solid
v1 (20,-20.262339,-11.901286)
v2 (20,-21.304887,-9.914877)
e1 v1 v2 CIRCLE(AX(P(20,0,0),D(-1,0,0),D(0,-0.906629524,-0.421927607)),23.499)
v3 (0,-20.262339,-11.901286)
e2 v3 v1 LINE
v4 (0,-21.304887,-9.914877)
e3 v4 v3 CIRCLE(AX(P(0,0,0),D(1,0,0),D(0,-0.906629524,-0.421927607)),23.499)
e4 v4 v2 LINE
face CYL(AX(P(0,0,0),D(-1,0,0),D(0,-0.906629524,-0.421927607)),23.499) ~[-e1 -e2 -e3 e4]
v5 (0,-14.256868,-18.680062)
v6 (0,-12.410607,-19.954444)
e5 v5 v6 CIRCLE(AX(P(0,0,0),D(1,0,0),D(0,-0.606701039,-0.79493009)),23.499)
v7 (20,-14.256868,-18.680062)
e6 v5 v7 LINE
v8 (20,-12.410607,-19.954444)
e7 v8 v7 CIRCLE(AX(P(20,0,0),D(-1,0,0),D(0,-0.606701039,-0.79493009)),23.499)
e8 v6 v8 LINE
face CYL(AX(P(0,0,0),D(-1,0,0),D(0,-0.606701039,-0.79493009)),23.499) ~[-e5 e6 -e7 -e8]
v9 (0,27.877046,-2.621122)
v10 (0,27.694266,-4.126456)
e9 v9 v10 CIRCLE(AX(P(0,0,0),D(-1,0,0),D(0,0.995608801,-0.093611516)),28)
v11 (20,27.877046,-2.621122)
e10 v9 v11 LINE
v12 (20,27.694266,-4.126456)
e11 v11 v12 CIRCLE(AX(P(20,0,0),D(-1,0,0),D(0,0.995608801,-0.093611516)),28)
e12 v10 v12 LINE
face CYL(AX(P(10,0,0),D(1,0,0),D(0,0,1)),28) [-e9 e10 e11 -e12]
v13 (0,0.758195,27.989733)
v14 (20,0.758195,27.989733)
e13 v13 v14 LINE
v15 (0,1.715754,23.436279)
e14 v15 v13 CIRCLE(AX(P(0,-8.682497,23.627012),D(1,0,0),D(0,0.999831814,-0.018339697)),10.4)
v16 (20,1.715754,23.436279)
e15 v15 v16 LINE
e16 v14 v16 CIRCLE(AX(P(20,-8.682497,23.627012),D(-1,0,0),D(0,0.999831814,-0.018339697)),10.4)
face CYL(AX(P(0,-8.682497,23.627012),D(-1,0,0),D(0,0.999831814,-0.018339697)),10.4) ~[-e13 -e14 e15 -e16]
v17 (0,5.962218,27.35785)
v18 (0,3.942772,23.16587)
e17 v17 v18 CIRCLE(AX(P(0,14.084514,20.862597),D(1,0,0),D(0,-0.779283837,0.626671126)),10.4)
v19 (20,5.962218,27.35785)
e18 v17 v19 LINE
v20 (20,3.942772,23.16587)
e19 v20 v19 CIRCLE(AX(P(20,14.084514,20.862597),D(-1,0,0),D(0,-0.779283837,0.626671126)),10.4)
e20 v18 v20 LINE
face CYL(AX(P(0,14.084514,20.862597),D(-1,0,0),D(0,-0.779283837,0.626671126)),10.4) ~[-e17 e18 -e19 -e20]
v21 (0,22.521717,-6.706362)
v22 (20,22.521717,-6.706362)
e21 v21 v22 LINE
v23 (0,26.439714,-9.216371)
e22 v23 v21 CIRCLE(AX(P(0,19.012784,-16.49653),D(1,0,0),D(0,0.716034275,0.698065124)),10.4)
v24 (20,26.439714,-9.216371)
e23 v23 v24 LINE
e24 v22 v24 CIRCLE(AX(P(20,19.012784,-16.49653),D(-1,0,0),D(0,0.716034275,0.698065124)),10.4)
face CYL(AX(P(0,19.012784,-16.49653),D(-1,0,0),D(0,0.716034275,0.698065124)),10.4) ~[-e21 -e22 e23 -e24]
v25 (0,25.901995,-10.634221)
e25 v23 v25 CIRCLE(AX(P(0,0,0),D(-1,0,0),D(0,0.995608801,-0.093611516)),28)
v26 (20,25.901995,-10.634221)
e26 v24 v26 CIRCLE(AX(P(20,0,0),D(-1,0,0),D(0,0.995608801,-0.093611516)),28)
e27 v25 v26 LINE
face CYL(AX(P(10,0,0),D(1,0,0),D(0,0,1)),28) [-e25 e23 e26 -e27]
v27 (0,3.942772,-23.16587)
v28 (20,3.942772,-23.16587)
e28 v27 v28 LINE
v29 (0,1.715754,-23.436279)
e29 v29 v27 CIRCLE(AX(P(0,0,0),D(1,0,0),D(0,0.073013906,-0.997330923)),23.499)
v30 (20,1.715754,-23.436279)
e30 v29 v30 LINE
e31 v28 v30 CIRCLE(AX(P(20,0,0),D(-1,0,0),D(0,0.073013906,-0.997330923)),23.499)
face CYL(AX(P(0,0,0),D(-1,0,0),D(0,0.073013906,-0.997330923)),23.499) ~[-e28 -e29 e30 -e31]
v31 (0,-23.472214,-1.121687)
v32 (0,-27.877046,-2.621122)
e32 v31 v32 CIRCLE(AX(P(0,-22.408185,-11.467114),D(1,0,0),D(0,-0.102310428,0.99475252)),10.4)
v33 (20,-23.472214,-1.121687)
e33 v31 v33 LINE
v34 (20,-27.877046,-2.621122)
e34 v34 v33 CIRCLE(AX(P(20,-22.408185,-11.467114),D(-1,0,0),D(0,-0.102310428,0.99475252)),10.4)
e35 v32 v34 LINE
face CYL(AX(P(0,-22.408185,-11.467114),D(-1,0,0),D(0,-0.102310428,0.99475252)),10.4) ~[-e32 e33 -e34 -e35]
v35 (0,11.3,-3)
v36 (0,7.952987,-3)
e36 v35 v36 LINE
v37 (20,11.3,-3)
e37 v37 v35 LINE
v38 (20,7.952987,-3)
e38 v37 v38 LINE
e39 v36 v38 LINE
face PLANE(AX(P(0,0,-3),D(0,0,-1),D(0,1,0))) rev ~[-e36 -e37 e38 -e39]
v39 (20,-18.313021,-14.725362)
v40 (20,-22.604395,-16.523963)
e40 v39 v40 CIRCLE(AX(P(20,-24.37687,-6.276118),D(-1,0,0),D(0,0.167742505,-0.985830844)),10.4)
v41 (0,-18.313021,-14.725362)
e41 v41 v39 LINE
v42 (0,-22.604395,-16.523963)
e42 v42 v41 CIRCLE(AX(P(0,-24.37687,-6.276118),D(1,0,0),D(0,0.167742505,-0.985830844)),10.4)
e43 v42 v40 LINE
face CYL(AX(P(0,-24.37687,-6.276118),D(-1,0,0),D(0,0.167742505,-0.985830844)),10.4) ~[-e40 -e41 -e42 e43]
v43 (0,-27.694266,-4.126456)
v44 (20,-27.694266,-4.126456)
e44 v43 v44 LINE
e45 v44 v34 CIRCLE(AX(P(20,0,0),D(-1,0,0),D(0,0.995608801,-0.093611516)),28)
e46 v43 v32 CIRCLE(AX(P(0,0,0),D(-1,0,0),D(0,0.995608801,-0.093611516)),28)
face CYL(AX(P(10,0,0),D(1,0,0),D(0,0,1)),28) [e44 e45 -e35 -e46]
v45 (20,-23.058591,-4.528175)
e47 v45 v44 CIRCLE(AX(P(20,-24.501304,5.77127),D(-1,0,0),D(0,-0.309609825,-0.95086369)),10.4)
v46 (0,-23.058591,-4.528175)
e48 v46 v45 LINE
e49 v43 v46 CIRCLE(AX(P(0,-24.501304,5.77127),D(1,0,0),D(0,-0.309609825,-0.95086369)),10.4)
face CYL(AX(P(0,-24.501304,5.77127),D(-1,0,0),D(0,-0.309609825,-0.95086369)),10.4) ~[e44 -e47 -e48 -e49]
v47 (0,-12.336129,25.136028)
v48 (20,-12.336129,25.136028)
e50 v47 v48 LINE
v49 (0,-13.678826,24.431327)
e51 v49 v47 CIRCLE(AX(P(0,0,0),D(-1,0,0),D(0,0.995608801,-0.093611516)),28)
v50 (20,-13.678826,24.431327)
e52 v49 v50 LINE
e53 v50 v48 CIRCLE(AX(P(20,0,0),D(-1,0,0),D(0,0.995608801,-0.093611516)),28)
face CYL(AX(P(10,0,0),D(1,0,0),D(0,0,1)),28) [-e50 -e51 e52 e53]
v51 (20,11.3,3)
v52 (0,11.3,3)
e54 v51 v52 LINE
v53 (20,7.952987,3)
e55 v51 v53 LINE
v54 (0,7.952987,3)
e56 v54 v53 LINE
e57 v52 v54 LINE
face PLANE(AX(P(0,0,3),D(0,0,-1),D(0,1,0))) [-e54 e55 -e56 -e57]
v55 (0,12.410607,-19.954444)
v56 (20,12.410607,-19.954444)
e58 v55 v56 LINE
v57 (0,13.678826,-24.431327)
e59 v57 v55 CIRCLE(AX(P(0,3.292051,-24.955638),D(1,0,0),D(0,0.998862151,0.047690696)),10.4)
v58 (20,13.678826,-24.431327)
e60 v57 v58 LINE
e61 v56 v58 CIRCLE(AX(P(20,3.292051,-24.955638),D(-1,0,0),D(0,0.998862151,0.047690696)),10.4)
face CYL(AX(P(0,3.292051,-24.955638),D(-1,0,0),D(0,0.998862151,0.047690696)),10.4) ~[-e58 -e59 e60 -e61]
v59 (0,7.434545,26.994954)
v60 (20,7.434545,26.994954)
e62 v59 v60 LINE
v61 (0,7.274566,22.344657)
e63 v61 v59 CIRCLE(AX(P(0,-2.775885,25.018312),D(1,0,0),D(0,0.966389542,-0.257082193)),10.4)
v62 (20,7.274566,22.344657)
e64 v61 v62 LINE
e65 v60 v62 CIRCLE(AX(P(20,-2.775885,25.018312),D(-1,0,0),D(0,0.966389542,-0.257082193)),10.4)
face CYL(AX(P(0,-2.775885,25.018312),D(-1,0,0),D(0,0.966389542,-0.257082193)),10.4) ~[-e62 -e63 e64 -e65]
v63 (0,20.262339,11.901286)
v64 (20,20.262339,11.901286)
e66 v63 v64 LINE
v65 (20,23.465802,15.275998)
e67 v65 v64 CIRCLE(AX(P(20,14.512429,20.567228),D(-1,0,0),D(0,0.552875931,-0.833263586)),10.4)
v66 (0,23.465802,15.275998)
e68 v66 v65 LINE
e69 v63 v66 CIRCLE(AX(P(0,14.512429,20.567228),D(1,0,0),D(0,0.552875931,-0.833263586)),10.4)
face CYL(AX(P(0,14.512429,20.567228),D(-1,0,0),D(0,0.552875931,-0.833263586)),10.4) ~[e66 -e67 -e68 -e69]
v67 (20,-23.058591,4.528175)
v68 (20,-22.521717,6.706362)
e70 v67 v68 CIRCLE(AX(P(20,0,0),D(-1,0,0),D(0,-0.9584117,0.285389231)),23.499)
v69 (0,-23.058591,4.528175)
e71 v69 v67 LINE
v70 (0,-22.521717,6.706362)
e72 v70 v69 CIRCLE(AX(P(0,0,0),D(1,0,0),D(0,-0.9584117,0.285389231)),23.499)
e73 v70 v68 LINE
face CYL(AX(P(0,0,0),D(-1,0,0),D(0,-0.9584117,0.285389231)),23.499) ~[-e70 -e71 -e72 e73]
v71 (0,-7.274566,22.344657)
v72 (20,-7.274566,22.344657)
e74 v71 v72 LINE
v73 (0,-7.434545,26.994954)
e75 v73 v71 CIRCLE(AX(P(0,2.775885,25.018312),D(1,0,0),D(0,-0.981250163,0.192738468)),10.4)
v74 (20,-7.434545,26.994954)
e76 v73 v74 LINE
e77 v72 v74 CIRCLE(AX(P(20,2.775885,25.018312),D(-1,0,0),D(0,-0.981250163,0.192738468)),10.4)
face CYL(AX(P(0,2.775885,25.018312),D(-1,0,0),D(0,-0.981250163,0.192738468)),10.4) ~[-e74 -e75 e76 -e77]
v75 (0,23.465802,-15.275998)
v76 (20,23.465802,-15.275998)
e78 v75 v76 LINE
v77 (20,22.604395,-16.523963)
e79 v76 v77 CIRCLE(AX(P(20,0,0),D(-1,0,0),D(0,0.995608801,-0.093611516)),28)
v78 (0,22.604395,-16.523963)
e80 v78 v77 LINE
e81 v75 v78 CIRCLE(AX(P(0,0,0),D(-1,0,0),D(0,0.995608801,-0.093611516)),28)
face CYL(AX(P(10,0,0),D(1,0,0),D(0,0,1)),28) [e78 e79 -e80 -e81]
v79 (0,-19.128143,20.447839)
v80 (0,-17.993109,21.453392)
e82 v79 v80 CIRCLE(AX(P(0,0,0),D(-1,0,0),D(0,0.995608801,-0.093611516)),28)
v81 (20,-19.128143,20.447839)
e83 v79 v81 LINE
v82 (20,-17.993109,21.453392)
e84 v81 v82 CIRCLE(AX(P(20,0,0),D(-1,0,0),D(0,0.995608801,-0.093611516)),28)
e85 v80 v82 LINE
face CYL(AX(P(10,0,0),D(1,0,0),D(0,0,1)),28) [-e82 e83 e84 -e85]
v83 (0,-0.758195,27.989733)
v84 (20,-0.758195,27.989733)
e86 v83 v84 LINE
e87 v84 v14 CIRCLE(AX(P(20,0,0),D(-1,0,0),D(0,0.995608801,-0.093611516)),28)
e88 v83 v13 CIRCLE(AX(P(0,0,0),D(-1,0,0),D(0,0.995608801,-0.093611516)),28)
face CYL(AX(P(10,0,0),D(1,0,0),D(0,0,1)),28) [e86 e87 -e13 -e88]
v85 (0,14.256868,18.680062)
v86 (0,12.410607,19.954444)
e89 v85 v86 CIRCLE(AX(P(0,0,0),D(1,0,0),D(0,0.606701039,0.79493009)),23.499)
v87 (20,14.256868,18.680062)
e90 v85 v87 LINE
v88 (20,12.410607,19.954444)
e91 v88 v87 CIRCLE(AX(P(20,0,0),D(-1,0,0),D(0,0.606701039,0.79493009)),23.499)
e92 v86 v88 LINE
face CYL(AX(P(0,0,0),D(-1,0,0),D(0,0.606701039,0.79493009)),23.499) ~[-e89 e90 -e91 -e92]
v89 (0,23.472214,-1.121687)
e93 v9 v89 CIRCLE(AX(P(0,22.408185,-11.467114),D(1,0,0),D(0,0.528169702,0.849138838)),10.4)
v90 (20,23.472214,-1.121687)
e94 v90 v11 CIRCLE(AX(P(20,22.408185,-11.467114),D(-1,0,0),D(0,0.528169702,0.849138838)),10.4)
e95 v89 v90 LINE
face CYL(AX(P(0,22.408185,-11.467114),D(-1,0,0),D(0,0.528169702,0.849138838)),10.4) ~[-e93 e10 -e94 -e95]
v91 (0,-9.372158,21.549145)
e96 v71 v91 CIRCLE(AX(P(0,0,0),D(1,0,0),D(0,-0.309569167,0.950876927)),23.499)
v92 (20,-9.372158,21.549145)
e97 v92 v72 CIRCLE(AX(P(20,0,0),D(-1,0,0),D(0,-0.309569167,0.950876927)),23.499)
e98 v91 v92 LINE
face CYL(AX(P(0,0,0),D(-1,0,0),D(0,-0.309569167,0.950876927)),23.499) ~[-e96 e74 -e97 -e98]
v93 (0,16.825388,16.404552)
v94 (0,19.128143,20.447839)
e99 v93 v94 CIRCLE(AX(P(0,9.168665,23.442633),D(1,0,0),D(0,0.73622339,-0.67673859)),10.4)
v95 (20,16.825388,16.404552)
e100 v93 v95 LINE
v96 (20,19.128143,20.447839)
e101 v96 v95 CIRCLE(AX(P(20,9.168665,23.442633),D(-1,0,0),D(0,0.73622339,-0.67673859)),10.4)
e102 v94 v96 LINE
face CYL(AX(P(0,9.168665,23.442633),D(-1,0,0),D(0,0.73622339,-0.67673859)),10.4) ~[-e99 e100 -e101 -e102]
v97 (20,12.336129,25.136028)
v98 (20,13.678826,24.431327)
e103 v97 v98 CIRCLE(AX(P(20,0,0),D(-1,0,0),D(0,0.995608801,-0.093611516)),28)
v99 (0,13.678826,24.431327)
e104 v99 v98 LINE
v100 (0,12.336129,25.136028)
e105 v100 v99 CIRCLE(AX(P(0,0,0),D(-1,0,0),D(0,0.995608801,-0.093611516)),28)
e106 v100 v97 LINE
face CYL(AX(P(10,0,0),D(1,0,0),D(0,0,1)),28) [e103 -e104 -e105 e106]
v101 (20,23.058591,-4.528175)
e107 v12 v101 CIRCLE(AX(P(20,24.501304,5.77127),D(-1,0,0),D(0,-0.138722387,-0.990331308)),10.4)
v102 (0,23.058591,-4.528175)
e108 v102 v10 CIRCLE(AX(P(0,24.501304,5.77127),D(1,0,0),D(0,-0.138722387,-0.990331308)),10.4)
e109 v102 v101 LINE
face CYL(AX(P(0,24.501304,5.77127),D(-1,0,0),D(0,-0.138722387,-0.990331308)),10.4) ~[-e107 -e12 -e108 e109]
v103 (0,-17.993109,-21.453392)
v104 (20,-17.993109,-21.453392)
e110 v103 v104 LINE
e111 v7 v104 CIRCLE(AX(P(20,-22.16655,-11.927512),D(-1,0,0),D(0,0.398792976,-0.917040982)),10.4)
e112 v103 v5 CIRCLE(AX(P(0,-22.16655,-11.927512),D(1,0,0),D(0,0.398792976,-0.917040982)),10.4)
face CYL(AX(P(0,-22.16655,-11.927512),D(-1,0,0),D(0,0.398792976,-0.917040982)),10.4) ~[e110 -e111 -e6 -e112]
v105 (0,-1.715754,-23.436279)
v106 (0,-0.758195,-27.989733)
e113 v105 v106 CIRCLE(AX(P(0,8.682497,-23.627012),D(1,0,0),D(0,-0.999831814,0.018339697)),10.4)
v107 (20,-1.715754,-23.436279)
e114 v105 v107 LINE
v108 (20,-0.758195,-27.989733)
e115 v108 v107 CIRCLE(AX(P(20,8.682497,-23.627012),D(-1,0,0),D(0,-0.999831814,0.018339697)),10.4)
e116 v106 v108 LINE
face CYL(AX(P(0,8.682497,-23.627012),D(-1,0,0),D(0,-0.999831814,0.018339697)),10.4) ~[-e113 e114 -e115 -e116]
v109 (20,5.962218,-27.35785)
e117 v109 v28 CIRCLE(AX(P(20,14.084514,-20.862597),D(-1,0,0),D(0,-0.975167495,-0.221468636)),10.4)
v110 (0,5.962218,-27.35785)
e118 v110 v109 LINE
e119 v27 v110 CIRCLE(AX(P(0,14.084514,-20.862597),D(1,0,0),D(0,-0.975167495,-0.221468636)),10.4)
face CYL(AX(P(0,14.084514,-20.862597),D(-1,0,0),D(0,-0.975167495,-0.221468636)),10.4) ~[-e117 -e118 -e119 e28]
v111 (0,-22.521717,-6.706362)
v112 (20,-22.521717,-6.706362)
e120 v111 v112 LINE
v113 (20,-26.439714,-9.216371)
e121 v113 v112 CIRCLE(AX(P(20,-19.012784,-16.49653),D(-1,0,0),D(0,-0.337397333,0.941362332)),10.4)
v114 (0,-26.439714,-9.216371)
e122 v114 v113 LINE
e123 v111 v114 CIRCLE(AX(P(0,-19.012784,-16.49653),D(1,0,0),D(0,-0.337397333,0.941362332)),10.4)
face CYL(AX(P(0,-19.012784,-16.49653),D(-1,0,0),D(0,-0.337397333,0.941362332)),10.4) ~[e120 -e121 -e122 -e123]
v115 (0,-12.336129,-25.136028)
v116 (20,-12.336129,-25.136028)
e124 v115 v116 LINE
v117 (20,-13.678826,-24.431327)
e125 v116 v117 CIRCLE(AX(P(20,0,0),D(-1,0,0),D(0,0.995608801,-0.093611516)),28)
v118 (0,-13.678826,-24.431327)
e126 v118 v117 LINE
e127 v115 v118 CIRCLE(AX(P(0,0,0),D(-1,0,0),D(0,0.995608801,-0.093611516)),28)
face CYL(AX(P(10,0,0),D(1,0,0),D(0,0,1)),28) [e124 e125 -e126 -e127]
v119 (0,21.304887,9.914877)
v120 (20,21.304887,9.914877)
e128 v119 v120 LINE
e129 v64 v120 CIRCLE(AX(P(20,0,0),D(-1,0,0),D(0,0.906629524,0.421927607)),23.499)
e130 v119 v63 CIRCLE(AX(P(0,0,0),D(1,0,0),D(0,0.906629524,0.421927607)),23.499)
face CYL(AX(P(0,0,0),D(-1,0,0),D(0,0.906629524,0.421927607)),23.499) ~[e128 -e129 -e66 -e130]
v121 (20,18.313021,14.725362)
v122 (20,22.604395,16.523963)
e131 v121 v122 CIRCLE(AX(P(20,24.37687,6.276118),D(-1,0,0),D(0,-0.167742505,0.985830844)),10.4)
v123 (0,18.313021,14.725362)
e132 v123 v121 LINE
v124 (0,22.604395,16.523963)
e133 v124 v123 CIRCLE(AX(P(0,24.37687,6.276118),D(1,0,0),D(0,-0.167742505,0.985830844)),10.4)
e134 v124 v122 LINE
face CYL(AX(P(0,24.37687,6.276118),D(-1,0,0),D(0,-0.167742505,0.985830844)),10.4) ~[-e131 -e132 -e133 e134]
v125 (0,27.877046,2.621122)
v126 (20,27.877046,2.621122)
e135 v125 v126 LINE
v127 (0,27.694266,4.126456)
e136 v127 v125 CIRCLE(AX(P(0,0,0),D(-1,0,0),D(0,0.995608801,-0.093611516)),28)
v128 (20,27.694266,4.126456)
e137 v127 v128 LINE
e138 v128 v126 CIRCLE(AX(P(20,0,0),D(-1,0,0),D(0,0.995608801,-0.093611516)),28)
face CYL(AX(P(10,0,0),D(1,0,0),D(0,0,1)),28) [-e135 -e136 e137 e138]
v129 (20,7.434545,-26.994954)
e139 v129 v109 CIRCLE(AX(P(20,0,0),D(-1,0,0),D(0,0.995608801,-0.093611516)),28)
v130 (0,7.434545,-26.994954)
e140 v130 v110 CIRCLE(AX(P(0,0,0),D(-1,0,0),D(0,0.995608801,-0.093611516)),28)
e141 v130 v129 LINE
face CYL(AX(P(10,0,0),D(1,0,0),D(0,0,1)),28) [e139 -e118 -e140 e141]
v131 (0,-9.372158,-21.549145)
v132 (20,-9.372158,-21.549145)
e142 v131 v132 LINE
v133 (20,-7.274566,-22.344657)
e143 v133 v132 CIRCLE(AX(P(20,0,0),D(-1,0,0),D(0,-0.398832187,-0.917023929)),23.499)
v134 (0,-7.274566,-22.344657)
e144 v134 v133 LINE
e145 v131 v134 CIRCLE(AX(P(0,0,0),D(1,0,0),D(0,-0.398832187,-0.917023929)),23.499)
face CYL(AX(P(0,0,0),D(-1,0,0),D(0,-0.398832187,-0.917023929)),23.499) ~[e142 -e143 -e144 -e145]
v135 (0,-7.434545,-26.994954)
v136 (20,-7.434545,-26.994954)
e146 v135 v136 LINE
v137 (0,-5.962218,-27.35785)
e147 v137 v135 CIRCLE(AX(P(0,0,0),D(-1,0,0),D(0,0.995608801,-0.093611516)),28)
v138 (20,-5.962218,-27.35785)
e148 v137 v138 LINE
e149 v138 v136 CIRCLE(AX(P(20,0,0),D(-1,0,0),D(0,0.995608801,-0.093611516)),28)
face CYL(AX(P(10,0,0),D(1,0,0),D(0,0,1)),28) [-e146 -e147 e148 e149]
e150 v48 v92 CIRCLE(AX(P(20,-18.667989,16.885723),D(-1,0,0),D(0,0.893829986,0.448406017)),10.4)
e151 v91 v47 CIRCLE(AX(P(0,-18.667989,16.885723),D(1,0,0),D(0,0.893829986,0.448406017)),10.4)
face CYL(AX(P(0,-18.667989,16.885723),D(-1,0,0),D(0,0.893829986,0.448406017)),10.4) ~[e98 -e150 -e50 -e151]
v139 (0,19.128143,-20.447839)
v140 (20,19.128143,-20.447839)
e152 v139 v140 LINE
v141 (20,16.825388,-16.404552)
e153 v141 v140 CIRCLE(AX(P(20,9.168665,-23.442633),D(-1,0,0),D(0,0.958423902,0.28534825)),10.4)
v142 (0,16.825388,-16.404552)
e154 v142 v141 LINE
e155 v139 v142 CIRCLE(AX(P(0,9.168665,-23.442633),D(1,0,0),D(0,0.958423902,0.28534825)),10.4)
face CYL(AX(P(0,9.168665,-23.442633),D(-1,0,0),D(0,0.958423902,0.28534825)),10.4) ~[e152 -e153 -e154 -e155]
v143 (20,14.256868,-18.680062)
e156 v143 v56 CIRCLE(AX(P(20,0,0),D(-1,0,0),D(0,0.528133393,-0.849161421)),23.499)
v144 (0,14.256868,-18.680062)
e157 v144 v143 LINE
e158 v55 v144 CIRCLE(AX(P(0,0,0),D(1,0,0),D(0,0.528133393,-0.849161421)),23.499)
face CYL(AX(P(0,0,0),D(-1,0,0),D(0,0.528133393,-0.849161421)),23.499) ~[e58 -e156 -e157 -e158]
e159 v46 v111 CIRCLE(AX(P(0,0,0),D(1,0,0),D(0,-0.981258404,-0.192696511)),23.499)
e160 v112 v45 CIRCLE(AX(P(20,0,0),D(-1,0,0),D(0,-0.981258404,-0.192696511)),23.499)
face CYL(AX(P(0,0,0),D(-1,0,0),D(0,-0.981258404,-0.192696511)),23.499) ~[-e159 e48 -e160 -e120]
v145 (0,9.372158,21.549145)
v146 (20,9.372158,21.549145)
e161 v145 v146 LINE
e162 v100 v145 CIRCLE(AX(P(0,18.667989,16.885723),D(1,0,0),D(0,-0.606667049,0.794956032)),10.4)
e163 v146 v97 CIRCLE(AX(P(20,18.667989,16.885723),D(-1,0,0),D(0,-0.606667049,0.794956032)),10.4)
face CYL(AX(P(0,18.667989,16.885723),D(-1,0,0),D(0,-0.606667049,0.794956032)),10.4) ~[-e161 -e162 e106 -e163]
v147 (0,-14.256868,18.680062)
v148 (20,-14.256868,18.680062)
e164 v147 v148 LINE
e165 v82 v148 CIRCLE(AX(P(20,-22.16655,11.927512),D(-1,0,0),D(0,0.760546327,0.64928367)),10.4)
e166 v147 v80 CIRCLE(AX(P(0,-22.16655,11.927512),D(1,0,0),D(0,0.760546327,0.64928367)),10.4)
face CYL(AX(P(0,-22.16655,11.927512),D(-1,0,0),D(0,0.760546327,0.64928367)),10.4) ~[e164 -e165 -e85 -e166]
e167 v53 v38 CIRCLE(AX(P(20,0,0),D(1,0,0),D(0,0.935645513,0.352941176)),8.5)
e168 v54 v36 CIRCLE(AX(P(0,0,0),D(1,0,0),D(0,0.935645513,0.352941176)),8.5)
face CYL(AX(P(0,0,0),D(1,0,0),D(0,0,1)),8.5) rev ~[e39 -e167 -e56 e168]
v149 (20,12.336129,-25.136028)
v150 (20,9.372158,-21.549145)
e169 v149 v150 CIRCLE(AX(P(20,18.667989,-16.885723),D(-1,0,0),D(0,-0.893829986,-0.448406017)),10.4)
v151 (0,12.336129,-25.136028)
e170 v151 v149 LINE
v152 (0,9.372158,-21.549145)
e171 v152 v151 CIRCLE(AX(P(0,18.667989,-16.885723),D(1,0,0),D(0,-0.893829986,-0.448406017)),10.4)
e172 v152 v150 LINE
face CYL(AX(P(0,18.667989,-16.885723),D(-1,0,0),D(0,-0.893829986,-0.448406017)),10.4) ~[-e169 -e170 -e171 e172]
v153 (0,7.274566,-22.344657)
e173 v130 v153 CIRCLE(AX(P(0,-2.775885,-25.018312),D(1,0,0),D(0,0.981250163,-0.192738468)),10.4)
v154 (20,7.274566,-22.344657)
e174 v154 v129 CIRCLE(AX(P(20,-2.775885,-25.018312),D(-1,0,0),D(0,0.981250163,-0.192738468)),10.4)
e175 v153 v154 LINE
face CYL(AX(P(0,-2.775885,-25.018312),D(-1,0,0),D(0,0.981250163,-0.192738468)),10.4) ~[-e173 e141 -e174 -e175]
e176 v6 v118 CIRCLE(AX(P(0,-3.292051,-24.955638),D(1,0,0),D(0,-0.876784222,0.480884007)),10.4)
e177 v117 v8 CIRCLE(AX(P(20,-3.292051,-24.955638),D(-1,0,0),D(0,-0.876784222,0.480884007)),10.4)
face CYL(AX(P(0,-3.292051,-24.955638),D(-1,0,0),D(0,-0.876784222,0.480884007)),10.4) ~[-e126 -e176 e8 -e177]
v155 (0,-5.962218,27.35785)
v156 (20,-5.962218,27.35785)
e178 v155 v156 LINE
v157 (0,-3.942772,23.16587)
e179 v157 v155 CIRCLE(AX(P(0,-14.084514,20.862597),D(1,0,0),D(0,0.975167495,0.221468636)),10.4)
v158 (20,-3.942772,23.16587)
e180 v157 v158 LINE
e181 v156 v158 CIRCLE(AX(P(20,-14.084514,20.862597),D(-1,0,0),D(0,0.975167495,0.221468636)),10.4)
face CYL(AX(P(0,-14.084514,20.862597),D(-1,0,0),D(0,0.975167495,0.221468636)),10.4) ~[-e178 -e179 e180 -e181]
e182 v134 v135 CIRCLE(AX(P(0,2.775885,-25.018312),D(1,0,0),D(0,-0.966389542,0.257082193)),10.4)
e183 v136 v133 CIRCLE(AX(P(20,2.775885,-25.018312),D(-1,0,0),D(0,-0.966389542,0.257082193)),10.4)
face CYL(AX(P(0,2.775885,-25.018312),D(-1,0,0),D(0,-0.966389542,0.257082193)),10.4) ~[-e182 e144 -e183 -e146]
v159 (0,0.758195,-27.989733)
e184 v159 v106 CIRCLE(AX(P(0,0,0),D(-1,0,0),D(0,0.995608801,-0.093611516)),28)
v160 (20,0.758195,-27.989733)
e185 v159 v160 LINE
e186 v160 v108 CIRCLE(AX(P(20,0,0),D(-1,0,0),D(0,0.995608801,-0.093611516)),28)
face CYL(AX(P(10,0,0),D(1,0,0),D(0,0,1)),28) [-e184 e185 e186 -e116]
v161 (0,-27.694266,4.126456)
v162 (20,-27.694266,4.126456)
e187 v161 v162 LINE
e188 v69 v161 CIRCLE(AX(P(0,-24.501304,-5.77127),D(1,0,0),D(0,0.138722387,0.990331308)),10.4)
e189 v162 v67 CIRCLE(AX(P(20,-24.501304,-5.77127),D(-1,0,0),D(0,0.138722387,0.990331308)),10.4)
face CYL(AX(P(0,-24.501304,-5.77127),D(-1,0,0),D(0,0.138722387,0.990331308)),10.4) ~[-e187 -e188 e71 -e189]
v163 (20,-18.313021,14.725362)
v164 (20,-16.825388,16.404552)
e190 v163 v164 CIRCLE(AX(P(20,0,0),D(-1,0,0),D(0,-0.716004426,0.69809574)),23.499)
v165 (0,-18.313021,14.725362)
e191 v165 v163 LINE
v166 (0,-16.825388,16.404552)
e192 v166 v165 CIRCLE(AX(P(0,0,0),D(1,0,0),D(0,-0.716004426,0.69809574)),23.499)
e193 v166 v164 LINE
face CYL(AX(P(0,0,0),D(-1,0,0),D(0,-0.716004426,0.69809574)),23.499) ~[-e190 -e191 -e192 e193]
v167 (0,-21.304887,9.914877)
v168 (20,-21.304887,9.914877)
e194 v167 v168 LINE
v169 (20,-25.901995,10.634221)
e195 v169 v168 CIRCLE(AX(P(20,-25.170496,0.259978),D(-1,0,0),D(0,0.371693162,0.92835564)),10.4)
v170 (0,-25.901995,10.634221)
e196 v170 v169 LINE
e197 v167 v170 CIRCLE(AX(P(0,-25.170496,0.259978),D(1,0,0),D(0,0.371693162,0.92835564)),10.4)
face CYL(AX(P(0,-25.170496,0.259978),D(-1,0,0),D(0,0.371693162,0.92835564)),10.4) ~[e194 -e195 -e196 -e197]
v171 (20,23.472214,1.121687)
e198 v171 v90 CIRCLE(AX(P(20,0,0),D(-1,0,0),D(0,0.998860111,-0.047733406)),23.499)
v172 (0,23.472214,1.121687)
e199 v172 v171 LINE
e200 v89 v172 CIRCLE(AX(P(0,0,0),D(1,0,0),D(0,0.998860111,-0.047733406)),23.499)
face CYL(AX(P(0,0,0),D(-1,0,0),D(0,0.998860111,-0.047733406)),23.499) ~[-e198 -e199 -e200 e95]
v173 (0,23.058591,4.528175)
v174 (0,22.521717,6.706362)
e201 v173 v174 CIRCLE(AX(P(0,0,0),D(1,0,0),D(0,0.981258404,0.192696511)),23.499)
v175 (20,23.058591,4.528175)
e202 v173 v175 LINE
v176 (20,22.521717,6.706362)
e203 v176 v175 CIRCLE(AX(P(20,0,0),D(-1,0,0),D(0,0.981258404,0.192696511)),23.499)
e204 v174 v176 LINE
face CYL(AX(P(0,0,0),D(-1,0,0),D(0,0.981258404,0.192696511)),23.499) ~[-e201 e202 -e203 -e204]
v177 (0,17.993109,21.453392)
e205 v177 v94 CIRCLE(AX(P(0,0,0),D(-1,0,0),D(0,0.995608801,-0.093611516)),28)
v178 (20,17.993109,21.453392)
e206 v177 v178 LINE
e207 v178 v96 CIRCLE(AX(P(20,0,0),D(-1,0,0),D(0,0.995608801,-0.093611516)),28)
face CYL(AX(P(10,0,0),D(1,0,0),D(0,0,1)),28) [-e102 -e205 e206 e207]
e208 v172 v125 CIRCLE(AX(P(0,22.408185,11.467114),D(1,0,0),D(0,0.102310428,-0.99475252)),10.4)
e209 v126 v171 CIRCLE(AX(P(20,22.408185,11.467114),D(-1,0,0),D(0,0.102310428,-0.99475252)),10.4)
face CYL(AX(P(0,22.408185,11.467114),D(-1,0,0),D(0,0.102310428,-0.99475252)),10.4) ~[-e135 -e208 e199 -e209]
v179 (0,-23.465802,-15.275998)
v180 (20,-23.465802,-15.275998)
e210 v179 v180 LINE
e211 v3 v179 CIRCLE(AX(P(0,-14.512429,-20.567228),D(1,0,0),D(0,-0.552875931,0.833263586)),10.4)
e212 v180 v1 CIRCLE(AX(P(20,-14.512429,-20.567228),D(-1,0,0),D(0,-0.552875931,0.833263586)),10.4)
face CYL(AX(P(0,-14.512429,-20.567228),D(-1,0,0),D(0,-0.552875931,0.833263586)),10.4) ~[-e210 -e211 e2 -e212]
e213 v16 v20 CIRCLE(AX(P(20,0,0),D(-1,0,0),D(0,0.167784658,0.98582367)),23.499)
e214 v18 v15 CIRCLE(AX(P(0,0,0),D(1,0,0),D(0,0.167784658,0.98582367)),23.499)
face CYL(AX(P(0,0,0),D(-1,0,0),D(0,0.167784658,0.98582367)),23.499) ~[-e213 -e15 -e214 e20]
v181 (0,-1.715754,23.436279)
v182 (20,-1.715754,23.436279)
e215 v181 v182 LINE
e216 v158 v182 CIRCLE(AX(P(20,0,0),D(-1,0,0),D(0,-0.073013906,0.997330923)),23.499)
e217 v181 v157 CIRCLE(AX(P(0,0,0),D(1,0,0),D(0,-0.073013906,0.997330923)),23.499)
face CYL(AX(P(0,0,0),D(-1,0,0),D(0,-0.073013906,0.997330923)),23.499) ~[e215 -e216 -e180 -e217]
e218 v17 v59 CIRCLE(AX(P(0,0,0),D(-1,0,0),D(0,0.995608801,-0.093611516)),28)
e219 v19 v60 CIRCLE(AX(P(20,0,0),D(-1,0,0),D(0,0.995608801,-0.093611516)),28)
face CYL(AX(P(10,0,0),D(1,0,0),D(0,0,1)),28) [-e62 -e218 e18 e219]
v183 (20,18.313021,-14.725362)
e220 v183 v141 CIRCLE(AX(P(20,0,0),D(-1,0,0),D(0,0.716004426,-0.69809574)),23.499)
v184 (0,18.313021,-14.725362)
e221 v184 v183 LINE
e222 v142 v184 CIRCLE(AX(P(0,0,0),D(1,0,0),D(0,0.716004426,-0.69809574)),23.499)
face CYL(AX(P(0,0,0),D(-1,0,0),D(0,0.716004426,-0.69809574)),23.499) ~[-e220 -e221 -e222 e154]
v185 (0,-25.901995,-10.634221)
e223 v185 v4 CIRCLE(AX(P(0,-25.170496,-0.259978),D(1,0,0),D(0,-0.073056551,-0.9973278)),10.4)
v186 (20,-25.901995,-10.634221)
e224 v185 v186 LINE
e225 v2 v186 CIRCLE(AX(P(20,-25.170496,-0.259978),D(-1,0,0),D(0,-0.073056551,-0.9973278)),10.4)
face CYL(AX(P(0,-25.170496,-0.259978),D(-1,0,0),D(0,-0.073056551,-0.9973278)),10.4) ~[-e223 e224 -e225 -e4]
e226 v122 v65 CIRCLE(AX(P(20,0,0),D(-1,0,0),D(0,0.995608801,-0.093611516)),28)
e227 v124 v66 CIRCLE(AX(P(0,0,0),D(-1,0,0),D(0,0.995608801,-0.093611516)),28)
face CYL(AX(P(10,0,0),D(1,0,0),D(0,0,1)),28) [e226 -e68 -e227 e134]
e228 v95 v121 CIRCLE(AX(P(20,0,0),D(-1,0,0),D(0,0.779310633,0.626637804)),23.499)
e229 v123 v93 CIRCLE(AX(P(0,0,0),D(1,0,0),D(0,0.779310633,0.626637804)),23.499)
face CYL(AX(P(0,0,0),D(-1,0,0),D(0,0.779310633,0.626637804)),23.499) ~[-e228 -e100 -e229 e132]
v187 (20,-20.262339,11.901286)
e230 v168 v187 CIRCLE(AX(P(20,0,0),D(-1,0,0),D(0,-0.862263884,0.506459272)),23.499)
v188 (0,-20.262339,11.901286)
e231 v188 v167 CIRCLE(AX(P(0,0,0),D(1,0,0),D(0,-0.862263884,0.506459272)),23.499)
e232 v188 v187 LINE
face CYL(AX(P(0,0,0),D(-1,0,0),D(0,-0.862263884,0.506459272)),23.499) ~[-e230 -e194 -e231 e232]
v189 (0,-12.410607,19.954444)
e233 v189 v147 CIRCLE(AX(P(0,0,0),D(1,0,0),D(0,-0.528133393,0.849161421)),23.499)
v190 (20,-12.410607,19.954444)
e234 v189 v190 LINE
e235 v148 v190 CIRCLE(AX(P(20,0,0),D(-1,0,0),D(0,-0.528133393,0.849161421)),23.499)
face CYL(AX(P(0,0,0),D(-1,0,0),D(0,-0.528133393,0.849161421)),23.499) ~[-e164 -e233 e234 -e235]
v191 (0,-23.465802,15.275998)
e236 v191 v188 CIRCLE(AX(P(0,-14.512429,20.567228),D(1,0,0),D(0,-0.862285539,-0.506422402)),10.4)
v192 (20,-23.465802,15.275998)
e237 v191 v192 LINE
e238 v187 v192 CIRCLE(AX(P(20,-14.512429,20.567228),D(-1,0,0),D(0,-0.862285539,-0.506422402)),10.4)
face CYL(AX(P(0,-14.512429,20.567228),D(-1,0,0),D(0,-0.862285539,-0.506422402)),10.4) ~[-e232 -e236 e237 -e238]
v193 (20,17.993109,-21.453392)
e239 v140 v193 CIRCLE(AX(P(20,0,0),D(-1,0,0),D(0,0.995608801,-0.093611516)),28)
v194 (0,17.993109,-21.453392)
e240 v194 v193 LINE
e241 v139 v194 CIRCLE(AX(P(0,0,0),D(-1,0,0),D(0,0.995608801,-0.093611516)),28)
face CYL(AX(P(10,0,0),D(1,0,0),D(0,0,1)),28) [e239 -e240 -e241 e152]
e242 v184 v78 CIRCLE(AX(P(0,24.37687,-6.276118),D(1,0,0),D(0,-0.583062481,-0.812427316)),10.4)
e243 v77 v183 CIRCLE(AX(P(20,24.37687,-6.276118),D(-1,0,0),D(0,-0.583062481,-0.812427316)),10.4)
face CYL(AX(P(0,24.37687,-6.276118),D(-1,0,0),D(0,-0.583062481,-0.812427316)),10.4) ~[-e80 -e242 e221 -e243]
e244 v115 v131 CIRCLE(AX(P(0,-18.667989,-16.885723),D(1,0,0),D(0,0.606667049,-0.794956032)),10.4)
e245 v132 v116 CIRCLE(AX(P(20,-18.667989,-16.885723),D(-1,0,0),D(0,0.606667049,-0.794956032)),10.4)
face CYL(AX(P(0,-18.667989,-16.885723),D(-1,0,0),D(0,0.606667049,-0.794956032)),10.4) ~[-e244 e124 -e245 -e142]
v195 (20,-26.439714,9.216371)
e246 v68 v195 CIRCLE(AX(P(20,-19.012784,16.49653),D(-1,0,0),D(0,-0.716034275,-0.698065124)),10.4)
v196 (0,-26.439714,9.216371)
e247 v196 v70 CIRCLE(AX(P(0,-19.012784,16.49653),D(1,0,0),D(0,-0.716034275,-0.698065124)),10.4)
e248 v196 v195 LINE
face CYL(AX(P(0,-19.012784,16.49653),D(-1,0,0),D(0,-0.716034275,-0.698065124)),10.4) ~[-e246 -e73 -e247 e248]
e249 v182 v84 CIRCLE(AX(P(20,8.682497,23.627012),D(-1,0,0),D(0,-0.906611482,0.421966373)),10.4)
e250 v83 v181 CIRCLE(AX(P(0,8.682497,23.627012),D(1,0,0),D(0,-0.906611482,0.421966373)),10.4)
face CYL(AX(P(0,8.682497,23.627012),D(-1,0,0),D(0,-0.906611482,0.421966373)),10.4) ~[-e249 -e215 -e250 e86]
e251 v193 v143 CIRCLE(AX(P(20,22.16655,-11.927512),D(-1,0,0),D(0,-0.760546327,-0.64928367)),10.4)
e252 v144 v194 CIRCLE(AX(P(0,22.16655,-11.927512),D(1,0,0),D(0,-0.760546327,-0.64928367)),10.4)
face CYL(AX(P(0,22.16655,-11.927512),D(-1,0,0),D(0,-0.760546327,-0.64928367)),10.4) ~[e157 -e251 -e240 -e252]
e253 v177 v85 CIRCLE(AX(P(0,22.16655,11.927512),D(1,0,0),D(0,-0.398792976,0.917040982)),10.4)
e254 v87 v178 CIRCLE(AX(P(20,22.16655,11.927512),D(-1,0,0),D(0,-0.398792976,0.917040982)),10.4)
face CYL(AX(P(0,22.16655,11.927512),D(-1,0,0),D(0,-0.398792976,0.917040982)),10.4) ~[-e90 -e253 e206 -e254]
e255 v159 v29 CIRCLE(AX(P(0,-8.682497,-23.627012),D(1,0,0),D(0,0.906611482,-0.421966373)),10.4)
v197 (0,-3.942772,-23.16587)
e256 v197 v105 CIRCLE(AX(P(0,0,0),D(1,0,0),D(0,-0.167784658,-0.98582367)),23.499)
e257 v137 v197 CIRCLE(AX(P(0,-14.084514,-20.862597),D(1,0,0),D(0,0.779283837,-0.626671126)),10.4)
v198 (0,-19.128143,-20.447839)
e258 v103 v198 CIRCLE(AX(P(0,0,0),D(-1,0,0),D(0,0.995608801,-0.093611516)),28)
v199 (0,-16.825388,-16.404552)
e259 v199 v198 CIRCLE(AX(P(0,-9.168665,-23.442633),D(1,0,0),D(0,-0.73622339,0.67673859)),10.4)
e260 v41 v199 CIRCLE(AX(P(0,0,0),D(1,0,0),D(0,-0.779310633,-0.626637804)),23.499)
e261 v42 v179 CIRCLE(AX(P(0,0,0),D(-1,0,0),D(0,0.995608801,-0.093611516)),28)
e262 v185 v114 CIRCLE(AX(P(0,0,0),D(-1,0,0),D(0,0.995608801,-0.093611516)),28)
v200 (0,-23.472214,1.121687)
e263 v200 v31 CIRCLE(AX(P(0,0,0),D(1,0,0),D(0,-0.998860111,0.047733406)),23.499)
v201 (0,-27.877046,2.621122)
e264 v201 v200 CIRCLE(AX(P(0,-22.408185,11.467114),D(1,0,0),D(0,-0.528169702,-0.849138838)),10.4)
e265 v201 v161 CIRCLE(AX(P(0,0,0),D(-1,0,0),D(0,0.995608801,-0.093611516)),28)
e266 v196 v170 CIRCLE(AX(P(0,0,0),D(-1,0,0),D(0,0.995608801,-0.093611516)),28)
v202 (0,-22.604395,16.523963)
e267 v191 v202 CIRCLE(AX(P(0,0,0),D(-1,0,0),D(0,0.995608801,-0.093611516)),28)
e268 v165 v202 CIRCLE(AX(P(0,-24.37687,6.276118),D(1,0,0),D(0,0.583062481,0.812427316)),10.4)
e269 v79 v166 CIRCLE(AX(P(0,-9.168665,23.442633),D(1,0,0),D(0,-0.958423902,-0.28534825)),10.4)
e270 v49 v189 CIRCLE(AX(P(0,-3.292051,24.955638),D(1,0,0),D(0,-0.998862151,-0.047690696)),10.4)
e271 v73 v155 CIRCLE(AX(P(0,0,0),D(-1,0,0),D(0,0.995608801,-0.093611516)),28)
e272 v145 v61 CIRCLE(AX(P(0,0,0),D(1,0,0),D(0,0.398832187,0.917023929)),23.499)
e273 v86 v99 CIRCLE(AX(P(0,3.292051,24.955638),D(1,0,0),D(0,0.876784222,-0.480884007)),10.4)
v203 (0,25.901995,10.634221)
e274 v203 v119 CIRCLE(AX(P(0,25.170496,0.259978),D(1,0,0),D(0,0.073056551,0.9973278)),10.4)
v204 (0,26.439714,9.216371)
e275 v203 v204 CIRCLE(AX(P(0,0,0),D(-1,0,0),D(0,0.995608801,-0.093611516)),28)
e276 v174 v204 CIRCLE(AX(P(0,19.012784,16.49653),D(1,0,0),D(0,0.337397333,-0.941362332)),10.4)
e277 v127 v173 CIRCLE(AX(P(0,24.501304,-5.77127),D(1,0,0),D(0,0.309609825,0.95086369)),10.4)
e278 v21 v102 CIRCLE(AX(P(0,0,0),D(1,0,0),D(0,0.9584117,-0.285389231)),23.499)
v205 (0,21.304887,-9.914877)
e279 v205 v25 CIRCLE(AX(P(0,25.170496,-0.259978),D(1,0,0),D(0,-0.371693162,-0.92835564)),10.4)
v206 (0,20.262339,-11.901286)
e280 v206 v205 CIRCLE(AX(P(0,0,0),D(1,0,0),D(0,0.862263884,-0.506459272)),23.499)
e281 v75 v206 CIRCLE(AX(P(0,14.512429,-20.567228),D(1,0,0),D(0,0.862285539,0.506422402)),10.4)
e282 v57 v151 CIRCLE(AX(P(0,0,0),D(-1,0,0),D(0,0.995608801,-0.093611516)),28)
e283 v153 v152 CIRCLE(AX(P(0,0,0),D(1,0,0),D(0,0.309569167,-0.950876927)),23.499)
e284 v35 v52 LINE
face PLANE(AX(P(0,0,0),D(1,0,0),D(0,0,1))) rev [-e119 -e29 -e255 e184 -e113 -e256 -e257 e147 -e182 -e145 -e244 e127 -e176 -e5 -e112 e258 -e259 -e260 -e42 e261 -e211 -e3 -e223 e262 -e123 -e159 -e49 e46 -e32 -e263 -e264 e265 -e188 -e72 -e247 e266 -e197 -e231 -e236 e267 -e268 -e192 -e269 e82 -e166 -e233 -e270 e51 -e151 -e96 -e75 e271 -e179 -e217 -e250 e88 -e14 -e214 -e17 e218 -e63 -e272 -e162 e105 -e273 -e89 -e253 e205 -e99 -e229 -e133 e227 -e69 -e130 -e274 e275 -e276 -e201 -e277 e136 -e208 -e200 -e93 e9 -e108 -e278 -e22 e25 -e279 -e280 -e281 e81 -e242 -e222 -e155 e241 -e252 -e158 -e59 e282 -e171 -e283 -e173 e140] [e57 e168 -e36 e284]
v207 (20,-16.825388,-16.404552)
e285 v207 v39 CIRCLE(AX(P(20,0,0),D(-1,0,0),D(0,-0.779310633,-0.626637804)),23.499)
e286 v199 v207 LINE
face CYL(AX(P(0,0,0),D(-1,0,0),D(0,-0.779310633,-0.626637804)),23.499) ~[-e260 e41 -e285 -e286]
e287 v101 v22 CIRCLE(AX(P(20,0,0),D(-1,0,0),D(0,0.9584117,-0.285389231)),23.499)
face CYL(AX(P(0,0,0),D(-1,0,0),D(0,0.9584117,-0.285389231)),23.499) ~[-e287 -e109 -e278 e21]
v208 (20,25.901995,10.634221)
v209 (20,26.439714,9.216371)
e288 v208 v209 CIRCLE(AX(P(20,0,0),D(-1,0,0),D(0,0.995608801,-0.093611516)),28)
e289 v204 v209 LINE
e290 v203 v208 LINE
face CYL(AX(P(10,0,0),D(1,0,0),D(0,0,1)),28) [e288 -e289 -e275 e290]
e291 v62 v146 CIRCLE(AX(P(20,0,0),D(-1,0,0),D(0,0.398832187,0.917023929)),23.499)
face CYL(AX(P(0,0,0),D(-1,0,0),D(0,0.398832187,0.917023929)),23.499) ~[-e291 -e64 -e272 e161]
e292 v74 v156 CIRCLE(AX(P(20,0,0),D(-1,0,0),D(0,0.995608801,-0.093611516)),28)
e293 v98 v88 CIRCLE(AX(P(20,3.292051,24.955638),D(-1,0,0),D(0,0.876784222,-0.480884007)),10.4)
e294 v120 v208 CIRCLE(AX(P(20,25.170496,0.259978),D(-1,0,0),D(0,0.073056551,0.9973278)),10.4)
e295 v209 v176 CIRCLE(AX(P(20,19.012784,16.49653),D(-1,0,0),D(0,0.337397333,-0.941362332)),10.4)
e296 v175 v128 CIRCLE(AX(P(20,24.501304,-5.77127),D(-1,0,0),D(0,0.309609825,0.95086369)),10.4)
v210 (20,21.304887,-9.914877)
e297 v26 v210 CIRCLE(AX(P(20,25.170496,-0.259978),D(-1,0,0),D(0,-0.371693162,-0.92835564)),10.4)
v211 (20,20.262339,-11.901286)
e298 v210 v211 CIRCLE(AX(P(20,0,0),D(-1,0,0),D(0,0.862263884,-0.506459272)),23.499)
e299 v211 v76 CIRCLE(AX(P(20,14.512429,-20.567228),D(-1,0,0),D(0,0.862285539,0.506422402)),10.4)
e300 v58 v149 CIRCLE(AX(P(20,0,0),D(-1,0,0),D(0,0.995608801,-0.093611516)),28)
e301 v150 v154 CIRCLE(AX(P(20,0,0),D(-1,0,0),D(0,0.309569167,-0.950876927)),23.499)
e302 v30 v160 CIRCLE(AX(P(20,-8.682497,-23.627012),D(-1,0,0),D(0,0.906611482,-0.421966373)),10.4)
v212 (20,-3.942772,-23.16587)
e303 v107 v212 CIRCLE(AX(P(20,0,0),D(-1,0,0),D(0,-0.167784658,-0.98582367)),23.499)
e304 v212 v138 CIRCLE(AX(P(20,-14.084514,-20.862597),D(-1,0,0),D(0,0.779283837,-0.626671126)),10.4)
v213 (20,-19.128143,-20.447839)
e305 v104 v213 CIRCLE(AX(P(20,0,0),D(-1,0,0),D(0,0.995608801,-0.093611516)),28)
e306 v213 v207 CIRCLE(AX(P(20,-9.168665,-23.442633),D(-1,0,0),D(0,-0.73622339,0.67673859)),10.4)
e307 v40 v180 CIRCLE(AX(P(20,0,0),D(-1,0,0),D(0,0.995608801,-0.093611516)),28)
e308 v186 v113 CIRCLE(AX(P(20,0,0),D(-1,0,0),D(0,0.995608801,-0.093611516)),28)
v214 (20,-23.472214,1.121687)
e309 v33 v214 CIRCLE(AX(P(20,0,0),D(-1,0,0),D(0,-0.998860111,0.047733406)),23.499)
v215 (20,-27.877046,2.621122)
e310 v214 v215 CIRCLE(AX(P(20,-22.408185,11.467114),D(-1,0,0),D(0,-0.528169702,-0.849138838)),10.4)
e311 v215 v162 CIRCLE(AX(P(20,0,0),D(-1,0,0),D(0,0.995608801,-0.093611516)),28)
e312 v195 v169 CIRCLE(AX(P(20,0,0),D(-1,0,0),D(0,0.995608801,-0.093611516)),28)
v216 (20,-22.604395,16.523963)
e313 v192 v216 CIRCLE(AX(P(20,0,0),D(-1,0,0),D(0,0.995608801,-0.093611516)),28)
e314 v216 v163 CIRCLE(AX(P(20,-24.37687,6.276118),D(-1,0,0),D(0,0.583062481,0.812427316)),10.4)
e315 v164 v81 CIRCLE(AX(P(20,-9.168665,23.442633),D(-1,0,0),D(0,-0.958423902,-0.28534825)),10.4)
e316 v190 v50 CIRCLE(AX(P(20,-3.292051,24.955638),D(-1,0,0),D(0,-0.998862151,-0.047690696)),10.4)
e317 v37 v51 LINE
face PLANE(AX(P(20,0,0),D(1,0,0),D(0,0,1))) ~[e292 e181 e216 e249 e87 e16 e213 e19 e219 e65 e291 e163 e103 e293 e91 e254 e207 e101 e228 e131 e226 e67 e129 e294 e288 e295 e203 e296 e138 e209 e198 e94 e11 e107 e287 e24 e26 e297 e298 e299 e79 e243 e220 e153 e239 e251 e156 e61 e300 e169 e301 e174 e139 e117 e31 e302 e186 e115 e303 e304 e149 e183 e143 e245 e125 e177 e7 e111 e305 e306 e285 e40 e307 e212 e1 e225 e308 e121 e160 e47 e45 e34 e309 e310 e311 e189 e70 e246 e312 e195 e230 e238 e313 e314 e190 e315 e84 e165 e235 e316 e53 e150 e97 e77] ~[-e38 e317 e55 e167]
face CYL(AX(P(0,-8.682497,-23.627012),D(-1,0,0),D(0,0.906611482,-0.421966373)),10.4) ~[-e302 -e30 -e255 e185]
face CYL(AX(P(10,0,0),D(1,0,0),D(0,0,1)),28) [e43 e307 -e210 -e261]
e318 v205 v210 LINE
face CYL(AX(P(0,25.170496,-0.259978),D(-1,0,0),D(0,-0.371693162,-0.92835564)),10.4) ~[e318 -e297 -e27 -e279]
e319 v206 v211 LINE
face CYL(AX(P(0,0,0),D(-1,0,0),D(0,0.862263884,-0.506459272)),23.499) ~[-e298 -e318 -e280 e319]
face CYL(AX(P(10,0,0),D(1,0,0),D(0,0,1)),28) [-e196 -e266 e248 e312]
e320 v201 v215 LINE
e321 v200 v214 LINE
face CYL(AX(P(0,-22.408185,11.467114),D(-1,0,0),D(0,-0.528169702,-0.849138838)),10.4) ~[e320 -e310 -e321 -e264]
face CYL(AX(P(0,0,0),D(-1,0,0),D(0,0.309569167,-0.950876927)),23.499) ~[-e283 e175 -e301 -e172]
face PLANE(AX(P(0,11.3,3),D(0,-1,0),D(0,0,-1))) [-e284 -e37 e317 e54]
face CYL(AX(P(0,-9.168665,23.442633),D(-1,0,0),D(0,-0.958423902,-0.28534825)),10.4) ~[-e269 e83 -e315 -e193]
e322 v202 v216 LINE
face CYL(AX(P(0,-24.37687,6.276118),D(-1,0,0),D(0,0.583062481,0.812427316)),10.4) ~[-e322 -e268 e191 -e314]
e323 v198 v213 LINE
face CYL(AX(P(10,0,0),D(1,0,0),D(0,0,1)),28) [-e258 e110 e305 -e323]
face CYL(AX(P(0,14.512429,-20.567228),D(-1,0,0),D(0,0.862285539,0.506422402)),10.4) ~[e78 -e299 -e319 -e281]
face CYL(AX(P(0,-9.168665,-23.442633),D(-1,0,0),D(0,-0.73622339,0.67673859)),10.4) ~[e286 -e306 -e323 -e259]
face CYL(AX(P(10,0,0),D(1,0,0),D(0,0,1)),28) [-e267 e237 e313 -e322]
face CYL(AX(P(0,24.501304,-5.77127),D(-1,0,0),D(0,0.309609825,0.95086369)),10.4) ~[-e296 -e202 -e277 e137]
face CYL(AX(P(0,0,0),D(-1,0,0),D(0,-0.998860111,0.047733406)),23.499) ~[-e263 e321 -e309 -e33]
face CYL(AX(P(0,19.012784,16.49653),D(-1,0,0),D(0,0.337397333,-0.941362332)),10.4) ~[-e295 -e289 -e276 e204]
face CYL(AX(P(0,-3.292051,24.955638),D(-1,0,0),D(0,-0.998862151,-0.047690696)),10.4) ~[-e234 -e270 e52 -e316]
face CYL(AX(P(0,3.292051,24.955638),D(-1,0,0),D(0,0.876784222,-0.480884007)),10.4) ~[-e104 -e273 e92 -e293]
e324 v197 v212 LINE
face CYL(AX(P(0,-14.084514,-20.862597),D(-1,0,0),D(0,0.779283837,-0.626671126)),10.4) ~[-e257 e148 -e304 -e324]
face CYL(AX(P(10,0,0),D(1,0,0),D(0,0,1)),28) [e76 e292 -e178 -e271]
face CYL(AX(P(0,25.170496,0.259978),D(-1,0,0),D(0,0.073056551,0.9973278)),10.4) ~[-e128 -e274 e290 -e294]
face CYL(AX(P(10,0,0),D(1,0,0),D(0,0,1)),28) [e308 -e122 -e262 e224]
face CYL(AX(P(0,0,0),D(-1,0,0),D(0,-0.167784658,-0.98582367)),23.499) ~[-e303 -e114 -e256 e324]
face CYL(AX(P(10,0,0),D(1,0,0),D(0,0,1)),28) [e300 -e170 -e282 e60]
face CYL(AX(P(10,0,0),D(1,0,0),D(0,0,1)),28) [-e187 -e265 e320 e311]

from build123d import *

# Parameters (mm, degrees)
BASPROSKE_W     = 20
BASPROSKE_H     = 28
TOOTHCUT_DEPTH  = 45.362146026
TEETHCUTS_COUNT = 26
TEETHCUTS_ANGLE = 346.153846154
BORSKE_R        = 8.5
BORE_DEPTH      = 50.0000508
KEYSKE_W        = 6
KEYSKE_H        = 11.3
KEYWAY_DEPTH    = 50.0000508


with BuildPart() as part:
    # BasProSke → Base-Revolve (revolve)
    with BuildSketch(Plane(origin=(0, 0, 0), x_dir=(1, 0, 0), z_dir=(0, 1, 0)), mode=Mode.PRIVATE) as base_revolve_sk:
        with Locations((10, 14)):
            Rectangle(BASPROSKE_W, BASPROSKE_H)
    revolve(base_revolve_sk.sketch.rotate(Axis((-10, 0, 0), (1, 0, 0)), 180), axis=Axis((-10, 0, 0), (1, 0, 0)))

    # TooCutSke → ToothCut (cut, through all)
    with BuildSketch(Plane(origin=(0, 0, 0), x_dir=(0, 0, -1), z_dir=(1, 0, 0))):
        with BuildLine():
            ThreePointArc((1.121687319, 23.472213755), (0, 23.499), (-1.121687319, 23.472213755))
            ThreePointArc((-1.121687319, 23.472213755), (-1.626477312, 25.772985276), (-2.63606961, 27.901150194))
            ThreePointArc((-2.63606961, 27.901150194), (0, 28.0254), (2.63606961, 27.901150194))
            ThreePointArc((2.63606961, 27.901150194), (1.626477312, 25.772985276), (1.121687319, 23.472213755))
        make_face()
    toothcut = extrude(amount=TOOTHCUT_DEPTH, mode=Mode.SUBTRACT)

    # TeethCuts: ToothCut ×26 about axis
    teethcuts_axis = Axis((-10, 0, 0), (1, 0, 0))
    for i in range(1, TEETHCUTS_COUNT):
        add(toothcut.rotate(teethcuts_axis, i * TEETHCUTS_ANGLE / (TEETHCUTS_COUNT - 1)), mode=Mode.SUBTRACT)

    # BorSke → Bore (cut, symmetric)
    with BuildSketch(Plane(origin=(0, 0, 0), x_dir=(0, 0, -1), z_dir=(1, 0, 0))):
        with Locations(Location((0, 0, 0), (0, 0, 180))):
            Circle(BORSKE_R)
    extrude(amount=BORE_DEPTH, both=True, mode=Mode.SUBTRACT)

    # KeySke → Keyway (cut, symmetric)
    with BuildSketch(Plane(origin=(0, 0, 0), x_dir=(0, 0, -1), z_dir=(1, 0, 0))):
        with Locations((0, 5.65)):
            Rectangle(KEYSKE_W, KEYSKE_H)
    extrude(amount=KEYWAY_DEPTH, both=True, mode=Mode.SUBTRACT)


solid = part.part
